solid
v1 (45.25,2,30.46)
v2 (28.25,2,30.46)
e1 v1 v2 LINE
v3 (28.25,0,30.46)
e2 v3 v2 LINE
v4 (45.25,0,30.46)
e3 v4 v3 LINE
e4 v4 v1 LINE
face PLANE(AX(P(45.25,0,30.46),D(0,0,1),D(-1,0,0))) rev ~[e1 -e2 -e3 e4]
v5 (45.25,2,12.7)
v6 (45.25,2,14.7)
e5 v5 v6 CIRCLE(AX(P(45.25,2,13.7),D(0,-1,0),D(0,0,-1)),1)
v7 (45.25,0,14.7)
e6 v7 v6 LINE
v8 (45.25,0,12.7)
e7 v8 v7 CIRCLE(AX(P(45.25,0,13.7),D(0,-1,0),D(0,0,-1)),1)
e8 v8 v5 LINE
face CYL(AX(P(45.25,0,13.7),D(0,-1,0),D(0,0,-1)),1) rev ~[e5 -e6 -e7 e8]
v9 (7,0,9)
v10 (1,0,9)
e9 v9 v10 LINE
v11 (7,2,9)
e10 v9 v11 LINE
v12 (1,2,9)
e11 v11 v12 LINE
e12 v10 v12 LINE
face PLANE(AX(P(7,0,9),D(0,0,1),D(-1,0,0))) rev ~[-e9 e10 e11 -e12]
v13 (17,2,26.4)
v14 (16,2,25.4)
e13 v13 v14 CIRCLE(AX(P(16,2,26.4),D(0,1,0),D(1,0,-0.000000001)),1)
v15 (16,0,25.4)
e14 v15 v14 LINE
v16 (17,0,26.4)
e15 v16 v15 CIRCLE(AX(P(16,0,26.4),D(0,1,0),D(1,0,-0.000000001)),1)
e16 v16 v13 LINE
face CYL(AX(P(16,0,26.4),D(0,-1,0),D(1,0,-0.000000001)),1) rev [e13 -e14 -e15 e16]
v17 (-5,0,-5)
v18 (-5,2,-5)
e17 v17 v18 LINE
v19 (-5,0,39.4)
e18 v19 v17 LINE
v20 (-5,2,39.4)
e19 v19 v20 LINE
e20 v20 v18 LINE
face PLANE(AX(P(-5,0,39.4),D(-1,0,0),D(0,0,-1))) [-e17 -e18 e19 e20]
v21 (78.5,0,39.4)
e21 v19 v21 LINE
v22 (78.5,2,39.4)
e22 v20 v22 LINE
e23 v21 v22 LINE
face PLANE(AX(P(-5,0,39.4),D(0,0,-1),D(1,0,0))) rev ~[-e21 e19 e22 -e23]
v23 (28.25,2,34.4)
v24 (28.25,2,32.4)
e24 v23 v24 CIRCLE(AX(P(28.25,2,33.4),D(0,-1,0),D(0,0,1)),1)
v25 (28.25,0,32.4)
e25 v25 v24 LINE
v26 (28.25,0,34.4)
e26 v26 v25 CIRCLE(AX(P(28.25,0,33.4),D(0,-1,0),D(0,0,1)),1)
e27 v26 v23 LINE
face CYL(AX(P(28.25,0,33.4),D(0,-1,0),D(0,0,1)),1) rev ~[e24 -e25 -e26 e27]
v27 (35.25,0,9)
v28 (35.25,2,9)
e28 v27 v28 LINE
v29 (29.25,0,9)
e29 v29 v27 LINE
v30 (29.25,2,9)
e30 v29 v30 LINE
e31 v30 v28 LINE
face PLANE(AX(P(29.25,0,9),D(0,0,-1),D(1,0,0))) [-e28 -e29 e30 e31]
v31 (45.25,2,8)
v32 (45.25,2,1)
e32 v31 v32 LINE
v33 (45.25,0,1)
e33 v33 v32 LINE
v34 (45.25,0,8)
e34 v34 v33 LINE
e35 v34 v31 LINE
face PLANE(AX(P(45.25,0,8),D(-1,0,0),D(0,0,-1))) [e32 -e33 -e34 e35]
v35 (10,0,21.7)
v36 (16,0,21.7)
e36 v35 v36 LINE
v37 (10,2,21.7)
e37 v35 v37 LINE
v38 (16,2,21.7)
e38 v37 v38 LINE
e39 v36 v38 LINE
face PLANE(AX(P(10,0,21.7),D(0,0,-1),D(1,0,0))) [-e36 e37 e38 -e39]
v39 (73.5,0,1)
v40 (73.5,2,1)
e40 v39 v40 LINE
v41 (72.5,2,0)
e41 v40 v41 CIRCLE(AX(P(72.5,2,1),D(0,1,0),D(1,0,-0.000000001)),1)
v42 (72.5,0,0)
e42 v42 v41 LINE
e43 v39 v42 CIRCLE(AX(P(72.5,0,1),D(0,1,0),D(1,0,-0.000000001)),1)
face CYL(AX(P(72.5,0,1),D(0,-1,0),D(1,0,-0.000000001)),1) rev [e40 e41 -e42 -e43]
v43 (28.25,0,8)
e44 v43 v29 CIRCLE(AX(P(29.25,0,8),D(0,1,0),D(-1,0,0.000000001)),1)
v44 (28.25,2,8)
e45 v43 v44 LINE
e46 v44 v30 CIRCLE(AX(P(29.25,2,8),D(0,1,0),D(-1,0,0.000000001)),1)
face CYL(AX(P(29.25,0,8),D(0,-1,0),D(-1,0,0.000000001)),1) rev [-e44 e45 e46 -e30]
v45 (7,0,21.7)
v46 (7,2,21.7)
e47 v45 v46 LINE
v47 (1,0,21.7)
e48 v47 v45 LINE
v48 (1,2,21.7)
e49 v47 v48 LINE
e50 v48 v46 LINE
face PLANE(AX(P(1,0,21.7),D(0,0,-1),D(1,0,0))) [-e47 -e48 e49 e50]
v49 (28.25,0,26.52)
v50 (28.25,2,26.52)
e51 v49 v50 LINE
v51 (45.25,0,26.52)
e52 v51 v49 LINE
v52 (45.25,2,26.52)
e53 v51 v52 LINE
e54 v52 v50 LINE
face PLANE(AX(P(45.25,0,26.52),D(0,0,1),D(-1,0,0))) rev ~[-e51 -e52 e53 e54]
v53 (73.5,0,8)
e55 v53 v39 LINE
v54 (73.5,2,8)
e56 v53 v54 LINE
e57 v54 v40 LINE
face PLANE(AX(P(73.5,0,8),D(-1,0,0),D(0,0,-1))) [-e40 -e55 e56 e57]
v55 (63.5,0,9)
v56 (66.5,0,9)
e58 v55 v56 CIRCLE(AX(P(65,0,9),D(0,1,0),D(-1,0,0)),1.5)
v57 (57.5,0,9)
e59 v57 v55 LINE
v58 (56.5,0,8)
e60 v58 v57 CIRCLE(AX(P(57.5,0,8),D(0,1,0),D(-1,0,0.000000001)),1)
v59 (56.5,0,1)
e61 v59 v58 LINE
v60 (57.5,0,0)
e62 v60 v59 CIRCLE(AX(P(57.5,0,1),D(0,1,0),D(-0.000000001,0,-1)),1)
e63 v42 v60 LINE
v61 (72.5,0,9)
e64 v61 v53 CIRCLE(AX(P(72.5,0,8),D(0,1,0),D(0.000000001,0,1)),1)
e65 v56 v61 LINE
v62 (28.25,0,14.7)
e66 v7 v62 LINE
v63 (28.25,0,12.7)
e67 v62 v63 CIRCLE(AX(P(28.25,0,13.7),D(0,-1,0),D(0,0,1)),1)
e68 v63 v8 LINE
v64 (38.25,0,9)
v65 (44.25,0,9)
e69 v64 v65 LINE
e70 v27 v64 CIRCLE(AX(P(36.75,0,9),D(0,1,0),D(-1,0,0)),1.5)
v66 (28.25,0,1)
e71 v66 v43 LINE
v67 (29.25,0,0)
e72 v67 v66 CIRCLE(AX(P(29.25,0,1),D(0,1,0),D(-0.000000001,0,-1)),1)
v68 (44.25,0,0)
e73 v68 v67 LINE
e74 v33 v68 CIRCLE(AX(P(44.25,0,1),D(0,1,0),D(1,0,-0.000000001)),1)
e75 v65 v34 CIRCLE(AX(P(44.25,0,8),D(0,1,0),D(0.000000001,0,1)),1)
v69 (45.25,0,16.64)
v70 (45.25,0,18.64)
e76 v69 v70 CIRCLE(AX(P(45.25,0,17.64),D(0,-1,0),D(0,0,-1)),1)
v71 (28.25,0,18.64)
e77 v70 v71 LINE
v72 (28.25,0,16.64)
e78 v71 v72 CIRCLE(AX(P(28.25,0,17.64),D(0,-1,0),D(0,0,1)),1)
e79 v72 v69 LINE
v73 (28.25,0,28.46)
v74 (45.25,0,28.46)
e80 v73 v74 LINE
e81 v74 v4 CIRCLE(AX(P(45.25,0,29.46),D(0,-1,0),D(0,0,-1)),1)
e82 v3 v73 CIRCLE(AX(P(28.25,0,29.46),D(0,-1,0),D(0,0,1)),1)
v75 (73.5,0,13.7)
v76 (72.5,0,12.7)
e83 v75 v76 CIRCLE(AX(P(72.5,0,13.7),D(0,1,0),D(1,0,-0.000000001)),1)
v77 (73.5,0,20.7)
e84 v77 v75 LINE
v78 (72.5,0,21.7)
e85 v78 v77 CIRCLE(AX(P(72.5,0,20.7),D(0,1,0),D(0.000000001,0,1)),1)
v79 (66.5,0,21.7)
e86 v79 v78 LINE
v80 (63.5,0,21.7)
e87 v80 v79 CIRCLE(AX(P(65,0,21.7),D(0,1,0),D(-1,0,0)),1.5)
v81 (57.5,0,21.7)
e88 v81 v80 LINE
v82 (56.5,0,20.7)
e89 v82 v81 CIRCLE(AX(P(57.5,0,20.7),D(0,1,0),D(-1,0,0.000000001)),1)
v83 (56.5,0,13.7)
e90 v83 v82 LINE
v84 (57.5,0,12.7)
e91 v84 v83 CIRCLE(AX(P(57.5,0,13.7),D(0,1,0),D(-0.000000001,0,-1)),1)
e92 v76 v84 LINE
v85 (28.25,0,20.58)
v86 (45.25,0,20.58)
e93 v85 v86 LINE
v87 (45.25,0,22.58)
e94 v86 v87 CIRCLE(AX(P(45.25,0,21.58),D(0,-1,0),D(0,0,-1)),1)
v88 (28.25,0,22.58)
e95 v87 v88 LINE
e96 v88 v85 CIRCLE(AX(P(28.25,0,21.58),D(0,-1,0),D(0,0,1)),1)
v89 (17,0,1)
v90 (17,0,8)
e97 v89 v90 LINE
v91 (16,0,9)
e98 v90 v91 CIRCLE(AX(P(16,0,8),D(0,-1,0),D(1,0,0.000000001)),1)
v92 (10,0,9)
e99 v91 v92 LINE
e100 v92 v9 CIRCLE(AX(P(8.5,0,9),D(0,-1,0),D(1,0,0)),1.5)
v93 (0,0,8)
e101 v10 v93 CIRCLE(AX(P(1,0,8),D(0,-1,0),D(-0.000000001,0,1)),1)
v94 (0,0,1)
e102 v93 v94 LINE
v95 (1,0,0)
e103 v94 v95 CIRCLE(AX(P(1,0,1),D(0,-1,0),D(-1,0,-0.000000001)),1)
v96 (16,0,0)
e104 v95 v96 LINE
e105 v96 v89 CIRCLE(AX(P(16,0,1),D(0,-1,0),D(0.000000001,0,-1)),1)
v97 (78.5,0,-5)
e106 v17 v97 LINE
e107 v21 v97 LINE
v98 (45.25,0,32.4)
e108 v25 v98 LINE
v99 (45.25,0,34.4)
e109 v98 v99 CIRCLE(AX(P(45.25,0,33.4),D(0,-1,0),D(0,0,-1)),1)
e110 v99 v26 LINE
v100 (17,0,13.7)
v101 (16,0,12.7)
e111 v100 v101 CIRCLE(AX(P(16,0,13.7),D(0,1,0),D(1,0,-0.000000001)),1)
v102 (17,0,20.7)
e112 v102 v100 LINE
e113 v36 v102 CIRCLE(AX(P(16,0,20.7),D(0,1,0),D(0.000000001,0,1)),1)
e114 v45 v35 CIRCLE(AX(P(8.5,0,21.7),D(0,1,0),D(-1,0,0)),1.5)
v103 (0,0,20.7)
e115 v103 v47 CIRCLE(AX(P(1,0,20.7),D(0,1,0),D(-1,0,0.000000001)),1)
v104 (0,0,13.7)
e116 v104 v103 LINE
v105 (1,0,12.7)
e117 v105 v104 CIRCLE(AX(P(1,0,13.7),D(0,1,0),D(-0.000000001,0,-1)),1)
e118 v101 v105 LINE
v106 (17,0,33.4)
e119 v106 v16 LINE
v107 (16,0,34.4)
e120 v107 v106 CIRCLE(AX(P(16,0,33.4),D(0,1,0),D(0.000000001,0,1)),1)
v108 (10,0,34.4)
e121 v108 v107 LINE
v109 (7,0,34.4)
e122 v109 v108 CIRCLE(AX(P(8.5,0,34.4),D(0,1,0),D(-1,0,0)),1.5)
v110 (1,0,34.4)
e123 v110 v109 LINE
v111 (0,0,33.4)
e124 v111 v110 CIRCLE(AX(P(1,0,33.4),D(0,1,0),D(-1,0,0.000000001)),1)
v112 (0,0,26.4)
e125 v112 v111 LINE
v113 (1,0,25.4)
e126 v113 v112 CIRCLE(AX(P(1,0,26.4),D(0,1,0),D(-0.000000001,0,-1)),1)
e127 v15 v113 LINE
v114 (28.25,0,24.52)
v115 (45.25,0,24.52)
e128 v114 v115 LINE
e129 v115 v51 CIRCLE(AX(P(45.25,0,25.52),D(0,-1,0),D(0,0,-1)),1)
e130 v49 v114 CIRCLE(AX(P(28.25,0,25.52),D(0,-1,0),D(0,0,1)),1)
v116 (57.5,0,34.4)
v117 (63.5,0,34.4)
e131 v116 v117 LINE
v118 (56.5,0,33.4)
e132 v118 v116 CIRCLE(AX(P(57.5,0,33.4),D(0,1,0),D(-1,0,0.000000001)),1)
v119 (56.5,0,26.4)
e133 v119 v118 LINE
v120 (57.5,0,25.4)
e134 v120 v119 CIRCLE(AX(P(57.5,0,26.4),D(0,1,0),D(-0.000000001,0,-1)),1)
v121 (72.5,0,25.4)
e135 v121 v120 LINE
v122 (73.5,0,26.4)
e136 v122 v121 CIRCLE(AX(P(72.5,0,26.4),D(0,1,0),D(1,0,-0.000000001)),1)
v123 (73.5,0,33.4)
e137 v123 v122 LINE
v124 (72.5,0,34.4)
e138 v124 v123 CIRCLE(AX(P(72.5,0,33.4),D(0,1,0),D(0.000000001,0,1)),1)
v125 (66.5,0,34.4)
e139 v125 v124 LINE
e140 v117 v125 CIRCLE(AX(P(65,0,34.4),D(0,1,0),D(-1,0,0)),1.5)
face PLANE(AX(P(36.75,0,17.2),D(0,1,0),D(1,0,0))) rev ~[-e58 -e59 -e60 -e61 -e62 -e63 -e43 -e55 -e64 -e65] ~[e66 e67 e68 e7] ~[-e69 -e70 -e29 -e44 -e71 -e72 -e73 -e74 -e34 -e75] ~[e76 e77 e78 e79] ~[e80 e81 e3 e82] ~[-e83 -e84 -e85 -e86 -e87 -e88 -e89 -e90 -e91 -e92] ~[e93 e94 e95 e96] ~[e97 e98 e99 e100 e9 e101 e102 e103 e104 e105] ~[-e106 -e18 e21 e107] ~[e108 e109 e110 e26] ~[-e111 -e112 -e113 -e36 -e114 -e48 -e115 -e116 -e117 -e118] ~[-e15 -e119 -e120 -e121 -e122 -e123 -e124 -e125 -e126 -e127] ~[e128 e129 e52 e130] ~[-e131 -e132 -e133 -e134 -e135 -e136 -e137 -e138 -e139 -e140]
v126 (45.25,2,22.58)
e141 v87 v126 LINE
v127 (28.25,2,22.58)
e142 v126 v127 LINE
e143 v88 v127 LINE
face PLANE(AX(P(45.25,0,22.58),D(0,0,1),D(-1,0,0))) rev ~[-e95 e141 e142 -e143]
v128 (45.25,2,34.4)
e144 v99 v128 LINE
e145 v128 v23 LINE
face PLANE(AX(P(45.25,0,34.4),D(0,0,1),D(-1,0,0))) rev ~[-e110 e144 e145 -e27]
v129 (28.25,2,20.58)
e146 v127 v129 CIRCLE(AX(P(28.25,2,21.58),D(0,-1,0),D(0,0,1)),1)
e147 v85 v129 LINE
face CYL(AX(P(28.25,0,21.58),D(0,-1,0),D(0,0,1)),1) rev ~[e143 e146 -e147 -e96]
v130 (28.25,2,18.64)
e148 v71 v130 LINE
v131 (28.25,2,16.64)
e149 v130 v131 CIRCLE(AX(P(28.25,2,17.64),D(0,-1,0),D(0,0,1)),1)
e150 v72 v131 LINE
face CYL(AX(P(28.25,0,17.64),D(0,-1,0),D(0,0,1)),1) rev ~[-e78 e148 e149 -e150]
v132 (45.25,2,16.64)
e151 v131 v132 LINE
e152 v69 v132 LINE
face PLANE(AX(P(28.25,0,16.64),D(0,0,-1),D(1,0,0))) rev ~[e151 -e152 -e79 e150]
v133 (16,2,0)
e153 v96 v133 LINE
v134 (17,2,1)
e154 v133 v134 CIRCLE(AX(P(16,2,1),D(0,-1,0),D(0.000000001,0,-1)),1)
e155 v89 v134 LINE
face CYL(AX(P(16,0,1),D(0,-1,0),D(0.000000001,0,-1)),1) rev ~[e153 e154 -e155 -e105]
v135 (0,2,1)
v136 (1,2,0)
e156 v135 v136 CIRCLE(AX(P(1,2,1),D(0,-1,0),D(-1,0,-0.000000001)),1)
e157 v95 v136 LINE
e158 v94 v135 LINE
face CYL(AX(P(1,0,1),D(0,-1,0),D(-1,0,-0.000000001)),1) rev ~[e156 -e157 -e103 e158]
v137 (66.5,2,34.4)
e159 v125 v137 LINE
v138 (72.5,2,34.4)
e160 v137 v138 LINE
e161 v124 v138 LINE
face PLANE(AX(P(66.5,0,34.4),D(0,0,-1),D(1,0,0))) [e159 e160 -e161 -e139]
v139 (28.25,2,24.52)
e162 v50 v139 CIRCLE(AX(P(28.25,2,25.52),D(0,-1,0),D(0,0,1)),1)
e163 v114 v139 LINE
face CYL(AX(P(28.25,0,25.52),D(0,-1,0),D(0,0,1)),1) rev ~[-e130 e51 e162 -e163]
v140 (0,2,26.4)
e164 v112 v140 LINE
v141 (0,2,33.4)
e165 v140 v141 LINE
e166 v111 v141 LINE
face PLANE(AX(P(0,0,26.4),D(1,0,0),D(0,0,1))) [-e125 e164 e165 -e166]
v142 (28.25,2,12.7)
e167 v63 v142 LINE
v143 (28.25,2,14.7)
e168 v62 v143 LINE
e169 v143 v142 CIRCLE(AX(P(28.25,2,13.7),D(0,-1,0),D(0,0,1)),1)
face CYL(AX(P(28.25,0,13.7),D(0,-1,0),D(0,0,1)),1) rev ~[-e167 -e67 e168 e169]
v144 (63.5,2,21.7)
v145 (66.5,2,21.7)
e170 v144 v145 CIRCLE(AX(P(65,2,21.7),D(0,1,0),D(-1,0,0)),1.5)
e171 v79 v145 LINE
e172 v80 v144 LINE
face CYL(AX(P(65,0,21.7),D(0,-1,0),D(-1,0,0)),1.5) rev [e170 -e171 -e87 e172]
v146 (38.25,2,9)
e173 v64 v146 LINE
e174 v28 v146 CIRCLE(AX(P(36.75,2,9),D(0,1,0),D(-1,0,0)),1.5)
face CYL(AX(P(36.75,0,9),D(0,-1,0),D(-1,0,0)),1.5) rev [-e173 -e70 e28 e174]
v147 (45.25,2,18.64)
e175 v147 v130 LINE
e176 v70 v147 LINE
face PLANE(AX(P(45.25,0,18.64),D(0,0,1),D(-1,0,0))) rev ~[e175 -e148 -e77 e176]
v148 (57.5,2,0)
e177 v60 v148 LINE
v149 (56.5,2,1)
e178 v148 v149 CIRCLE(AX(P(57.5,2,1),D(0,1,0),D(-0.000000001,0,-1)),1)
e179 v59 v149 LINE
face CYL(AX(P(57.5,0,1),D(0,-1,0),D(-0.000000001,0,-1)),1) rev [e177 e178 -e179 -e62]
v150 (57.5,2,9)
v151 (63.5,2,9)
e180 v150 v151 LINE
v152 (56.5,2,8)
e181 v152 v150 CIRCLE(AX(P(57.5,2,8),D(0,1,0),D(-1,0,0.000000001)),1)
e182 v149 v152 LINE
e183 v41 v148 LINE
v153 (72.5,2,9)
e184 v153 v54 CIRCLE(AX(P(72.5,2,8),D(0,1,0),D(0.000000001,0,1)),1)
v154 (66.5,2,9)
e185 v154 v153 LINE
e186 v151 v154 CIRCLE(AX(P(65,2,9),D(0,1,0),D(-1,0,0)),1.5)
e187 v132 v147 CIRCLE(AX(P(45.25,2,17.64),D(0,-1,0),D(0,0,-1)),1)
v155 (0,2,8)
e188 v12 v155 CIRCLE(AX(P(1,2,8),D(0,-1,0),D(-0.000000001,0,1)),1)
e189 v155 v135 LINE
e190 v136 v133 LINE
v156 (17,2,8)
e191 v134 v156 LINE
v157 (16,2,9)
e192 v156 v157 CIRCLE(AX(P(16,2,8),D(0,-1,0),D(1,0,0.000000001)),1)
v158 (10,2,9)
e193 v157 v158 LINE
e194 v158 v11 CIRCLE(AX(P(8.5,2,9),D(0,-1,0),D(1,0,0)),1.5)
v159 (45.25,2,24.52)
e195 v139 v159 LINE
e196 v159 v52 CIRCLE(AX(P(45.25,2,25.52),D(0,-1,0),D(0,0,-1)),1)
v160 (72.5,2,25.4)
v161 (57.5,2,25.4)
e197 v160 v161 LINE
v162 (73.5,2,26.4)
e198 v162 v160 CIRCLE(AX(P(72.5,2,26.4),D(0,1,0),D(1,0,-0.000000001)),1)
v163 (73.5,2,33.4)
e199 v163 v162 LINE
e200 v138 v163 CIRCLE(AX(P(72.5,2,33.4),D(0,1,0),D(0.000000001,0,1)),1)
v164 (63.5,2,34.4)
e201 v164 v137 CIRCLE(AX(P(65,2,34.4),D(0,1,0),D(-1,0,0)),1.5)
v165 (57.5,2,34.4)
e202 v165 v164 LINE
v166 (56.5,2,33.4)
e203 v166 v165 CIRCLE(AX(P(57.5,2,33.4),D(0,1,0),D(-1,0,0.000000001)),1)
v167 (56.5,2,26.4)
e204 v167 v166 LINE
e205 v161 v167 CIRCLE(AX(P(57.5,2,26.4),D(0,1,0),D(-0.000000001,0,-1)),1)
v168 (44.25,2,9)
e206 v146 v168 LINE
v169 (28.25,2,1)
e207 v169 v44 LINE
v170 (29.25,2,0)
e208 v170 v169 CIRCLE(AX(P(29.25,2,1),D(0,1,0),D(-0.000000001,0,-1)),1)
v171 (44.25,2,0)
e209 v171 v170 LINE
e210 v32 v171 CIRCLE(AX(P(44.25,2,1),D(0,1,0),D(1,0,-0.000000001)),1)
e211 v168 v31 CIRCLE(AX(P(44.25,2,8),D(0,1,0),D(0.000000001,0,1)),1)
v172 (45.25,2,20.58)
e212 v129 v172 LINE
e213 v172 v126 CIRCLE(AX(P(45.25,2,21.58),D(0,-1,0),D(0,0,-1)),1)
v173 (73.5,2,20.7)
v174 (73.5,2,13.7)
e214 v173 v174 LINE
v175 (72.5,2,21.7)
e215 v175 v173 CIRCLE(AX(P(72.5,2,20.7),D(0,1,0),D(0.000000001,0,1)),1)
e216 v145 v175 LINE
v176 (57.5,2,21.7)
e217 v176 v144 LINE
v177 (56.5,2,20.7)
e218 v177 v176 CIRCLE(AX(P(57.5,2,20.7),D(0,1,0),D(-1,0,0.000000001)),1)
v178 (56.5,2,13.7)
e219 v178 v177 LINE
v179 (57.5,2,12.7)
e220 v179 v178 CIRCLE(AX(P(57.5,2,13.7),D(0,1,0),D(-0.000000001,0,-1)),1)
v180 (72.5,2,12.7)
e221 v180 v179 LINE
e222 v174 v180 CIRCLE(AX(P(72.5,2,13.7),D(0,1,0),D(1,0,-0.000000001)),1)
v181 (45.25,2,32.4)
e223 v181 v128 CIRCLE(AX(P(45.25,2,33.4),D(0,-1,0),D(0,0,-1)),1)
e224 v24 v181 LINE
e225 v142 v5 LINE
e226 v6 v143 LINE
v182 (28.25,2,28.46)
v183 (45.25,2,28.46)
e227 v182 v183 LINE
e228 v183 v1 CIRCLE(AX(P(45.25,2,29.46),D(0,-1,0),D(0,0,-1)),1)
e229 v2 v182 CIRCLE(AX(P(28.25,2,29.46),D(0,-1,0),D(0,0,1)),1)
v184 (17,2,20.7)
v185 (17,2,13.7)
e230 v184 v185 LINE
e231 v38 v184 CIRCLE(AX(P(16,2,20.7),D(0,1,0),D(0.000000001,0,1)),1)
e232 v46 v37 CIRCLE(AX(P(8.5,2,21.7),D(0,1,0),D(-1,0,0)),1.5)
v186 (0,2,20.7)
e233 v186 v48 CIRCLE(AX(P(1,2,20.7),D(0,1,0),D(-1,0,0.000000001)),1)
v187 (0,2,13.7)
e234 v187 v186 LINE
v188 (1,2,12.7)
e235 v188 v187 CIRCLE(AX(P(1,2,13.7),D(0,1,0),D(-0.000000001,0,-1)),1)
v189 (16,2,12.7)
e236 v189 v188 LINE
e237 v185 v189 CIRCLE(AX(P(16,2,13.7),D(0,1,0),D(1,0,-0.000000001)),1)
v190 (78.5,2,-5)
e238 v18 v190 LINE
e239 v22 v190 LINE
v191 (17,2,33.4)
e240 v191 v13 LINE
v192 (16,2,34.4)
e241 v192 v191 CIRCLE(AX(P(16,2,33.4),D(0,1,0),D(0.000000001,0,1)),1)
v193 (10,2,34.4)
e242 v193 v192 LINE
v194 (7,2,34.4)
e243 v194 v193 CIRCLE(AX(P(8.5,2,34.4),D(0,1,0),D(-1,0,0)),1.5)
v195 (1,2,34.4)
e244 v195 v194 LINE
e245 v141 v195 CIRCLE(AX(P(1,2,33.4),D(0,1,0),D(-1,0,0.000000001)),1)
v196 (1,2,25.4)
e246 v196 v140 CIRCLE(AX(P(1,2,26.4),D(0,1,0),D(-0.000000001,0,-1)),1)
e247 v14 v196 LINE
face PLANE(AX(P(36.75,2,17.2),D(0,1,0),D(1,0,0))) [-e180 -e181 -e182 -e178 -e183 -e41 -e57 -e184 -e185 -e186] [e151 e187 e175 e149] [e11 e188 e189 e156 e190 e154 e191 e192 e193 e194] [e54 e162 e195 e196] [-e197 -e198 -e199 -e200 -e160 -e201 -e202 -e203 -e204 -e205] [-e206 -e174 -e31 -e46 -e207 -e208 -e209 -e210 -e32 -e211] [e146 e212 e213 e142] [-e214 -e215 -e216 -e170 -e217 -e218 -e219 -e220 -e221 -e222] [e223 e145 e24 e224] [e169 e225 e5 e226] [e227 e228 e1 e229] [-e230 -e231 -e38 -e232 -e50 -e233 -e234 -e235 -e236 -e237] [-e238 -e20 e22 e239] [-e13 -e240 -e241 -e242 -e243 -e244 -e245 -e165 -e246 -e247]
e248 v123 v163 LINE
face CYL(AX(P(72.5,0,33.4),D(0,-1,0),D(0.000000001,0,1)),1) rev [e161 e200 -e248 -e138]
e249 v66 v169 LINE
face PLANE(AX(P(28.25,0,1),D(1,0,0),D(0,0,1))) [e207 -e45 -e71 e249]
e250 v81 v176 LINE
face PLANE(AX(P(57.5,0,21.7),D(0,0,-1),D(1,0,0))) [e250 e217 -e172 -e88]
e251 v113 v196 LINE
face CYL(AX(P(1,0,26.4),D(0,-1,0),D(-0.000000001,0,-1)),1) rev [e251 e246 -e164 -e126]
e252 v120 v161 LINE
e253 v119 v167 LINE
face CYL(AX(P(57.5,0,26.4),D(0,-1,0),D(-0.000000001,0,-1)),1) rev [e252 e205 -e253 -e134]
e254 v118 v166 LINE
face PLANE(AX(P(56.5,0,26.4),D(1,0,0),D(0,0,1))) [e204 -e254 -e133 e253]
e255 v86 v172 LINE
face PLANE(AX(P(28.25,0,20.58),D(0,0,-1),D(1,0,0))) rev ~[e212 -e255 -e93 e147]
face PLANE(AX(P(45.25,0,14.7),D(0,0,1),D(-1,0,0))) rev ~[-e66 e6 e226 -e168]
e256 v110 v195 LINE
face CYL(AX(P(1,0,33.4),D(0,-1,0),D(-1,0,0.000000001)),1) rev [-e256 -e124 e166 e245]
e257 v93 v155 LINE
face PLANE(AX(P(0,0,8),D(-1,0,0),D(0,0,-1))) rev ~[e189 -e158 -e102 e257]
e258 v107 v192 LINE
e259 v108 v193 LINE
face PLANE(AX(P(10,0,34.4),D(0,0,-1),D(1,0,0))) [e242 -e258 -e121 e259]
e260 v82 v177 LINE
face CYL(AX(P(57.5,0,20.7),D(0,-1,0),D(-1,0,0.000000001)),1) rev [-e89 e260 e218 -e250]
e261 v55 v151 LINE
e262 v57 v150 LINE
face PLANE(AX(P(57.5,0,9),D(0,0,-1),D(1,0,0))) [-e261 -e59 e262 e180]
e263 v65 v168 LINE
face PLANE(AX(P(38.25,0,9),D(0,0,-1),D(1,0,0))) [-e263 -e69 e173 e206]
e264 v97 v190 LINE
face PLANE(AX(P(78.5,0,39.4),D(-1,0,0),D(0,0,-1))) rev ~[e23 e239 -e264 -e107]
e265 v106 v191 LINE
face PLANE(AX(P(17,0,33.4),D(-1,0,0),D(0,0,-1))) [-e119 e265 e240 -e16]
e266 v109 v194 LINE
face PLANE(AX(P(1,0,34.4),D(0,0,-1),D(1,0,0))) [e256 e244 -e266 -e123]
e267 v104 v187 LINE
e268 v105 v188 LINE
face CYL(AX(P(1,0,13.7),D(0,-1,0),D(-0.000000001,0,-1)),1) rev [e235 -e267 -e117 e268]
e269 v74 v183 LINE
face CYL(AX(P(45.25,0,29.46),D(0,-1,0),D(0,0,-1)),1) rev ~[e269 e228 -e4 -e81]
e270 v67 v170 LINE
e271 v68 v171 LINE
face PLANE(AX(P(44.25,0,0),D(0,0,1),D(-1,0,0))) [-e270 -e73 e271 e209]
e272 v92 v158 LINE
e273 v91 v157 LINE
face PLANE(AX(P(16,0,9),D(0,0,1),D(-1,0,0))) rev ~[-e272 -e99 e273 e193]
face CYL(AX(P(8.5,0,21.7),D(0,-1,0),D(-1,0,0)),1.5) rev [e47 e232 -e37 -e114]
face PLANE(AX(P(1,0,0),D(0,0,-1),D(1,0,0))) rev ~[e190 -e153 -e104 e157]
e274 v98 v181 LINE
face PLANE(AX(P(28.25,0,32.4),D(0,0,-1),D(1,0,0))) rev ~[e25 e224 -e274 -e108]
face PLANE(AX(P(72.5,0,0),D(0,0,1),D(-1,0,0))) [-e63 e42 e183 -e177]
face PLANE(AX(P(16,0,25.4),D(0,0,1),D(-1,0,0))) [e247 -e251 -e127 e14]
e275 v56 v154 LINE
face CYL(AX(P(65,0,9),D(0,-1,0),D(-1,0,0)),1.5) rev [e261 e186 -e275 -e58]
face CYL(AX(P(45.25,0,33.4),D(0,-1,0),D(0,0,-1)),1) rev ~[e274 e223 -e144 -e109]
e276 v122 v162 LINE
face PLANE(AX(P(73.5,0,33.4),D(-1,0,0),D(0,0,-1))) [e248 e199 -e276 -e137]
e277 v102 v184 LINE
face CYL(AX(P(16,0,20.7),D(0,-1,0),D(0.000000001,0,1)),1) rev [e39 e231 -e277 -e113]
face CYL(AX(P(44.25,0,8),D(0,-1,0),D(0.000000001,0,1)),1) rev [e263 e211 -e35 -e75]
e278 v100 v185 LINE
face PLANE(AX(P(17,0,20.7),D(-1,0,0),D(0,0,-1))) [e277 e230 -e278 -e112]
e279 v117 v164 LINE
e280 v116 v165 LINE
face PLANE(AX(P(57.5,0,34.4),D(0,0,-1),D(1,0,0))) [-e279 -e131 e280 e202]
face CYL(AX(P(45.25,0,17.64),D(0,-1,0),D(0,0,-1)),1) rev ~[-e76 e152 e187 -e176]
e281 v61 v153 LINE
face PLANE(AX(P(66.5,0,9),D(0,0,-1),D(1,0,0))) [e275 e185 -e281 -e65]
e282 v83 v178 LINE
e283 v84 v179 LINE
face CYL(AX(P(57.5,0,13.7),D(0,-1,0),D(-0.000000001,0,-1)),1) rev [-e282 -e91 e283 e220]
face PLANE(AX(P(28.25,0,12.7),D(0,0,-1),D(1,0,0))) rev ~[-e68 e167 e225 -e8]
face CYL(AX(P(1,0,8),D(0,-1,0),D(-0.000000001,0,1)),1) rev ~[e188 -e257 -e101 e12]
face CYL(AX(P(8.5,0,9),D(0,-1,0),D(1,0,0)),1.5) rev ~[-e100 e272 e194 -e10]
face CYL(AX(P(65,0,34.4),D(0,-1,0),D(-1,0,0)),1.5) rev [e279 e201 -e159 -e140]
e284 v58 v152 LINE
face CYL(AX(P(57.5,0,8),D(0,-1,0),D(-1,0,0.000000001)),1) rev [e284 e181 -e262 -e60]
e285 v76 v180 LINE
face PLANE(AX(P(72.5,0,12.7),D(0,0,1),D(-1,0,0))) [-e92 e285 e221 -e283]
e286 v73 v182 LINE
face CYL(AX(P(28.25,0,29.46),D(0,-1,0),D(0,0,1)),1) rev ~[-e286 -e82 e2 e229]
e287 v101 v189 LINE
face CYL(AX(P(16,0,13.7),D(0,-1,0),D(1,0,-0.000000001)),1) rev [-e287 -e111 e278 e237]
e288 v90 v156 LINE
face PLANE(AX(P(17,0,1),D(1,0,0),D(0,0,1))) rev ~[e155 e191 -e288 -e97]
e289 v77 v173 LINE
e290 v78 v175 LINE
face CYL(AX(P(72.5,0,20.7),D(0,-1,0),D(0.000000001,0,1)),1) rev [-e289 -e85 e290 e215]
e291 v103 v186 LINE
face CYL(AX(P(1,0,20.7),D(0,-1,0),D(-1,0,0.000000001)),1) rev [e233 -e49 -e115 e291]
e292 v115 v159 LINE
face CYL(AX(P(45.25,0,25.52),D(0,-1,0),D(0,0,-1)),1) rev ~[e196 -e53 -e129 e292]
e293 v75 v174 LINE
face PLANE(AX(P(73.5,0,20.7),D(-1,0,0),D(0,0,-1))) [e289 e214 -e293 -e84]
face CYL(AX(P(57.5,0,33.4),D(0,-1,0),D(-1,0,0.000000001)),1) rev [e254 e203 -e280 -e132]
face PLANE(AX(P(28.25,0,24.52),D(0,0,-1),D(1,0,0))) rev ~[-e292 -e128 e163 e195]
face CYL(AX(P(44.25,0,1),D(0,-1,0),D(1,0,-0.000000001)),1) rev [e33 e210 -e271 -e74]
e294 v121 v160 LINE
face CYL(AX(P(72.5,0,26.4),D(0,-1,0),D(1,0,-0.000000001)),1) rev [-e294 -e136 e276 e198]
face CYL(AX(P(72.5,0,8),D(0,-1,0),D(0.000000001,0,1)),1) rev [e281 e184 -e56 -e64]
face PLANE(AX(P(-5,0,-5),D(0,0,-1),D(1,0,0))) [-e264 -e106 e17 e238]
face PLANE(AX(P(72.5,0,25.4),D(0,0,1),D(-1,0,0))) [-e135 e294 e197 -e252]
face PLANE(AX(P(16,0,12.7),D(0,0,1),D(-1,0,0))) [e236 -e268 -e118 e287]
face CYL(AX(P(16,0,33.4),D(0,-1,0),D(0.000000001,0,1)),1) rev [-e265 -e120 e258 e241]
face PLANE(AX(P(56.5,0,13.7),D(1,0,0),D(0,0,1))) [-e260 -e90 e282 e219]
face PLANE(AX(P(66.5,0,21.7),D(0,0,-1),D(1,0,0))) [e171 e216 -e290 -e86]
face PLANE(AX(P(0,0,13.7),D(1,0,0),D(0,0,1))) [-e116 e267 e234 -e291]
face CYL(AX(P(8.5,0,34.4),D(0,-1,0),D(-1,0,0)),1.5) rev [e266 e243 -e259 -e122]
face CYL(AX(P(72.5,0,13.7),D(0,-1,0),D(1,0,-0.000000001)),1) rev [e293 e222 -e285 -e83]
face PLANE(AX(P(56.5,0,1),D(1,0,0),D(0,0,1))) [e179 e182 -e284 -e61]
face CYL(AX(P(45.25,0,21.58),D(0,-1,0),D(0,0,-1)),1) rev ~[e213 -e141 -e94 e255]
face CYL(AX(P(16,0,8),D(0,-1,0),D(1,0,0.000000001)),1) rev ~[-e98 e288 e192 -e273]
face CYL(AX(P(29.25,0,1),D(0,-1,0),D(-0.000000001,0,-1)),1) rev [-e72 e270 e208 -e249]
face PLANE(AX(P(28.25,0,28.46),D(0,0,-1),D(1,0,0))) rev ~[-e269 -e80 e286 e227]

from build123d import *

# Parameters (mm, degrees)
SKETCH1_W           = 83.5
SKETCH1_H           = 44.4
BOSS_EXTRUDE1_DEPTH = 2


with BuildPart() as part:
    # Sketch1 → Boss-Extrude1 (new body)
    with BuildSketch(Plane(origin=(0, 0, 0), x_dir=(1, 0, 0), z_dir=(0, 1, 0))):
        with Locations((36.75, -17.2)):
            Rectangle(SKETCH1_W, SKETCH1_H)
        with BuildLine():
            Line((29.25, -9), (35.25, -9))
            ThreePointArc((35.25, -9), (36.75, -10.5), (38.25, -9))
            Line((38.25, -9), (44.25, -9))
            ThreePointArc((44.25, -9), (44.957106781, -8.707106781), (45.25, -8))
            Line((45.25, -8), (45.25, -1))
            ThreePointArc((45.25, -1), (44.957106781, -0.292893219), (44.25, 0))
            Line((44.25, 0), (29.25, 0))
            ThreePointArc((29.25, 0), (28.542893219, -0.292893219), (28.25, -1))
            Line((28.25, -1), (28.25, -8))
            ThreePointArc((28.25, -8), (28.542893219, -8.707106781), (29.25, -9))
        make_face(mode=Mode.SUBTRACT)
        with BuildLine():
            Line((1, 0), (16, 0))
            ThreePointArc((16, 0), (16.707106781, -0.292893219), (17, -1))
            Line((17, -1), (17, -8))
            ThreePointArc((17, -8), (16.707106781, -8.707106781), (16, -9))
            Line((16, -9), (10, -9))
            ThreePointArc((10, -9), (8.5, -10.5), (7, -9))
            Line((7, -9), (1, -9))
            ThreePointArc((1, -9), (0.292893219, -8.707106781), (0, -8))
            Line((0, -8), (0, -1))
            ThreePointArc((0, -1), (0.292893219, -0.292893219), (1, 0))
        make_face(mode=Mode.SUBTRACT)
        with BuildLine():
            Line((57.5, -9), (63.5, -9))
            ThreePointArc((63.5, -9), (65, -10.5), (66.5, -9))
            Line((66.5, -9), (72.5, -9))
            ThreePointArc((72.5, -9), (73.207106781, -8.707106781), (73.5, -8))
            Line((73.5, -8), (73.5, -1))
            ThreePointArc((73.5, -1), (73.207106781, -0.292893219), (72.5, 0))
            Line((72.5, 0), (57.5, 0))
            ThreePointArc((57.5, 0), (56.792893219, -0.292893219), (56.5, -1))
            Line((56.5, -1), (56.5, -8))
            ThreePointArc((56.5, -8), (56.792893219, -8.707106781), (57.5, -9))
        make_face(mode=Mode.SUBTRACT)
        with BuildLine():
            Line((57.5, -21.7), (63.5, -21.7))
            ThreePointArc((63.5, -21.7), (65, -23.2), (66.5, -21.7))
            Line((66.5, -21.7), (72.5, -21.7))
            ThreePointArc((72.5, -21.7), (73.207106781, -21.407106781), (73.5, -20.7))
            Line((73.5, -20.7), (73.5, -13.7))
            ThreePointArc((73.5, -13.7), (73.207106781, -12.992893219), (72.5, -12.7))
            Line((72.5, -12.7), (57.5, -12.7))
            ThreePointArc((57.5, -12.7), (56.792893219, -12.992893219), (56.5, -13.7))
            Line((56.5, -13.7), (56.5, -20.7))
            ThreePointArc((56.5, -20.7), (56.792893219, -21.407106781), (57.5, -21.7))
        make_face(mode=Mode.SUBTRACT)
        with BuildLine():
            Line((57.5, -34.4), (63.5, -34.4))
            ThreePointArc((63.5, -34.4), (65, -35.9), (66.5, -34.4))
            Line((66.5, -34.4), (72.5, -34.4))
            ThreePointArc((72.5, -34.4), (73.207106781, -34.107106781), (73.5, -33.4))
            Line((73.5, -33.4), (73.5, -26.4))
            ThreePointArc((73.5, -26.4), (73.207106781, -25.692893219), (72.5, -25.4))
            Line((72.5, -25.4), (57.5, -25.4))
            ThreePointArc((57.5, -25.4), (56.792893219, -25.692893219), (56.5, -26.4))
            Line((56.5, -26.4), (56.5, -33.4))
            ThreePointArc((56.5, -33.4), (56.792893219, -34.107106781), (57.5, -34.4))
        make_face(mode=Mode.SUBTRACT)
        with BuildLine():
            Line((1, -21.7), (7, -21.7))
            ThreePointArc((7, -21.7), (8.5, -23.2), (10, -21.7))
            Line((10, -21.7), (16, -21.7))
            ThreePointArc((16, -21.7), (16.707106781, -21.407106781), (17, -20.7))
            Line((17, -20.7), (17, -13.7))
            ThreePointArc((17, -13.7), (16.707106781, -12.992893219), (16, -12.7))
            Line((16, -12.7), (1, -12.7))
            ThreePointArc((1, -12.7), (0.292893219, -12.992893219), (0, -13.7))
            Line((0, -13.7), (0, -20.7))
            ThreePointArc((0, -20.7), (0.292893219, -21.407106781), (1, -21.7))
        make_face(mode=Mode.SUBTRACT)
        with BuildLine():
            Line((1, -34.4), (7, -34.4))
            ThreePointArc((7, -34.4), (8.5, -35.9), (10, -34.4))
            Line((10, -34.4), (16, -34.4))
            ThreePointArc((16, -34.4), (16.707106781, -34.107106781), (17, -33.4))
            Line((17, -33.4), (17, -26.4))
            ThreePointArc((17, -26.4), (16.707106781, -25.692893219), (16, -25.4))
            Line((16, -25.4), (1, -25.4))
            ThreePointArc((1, -25.4), (0.292893219, -25.692893219), (0, -26.4))
            Line((0, -26.4), (0, -33.4))
            ThreePointArc((0, -33.4), (0.292893219, -34.107106781), (1, -34.4))
        make_face(mode=Mode.SUBTRACT)
        with BuildLine():
            Line((28.25, -16.64), (45.25, -16.64))
            ThreePointArc((45.25, -16.64), (46.25, -17.64), (45.25, -18.64))
            Line((45.25, -18.64), (28.25, -18.64))
            ThreePointArc((28.25, -18.64), (27.25, -17.64), (28.25, -16.64))
        make_face(mode=Mode.SUBTRACT)
        with BuildLine():
            Line((28.25, -12.7), (45.25, -12.7))
            ThreePointArc((45.25, -12.7), (46.25, -13.7), (45.25, -14.7))
            Line((45.25, -14.7), (28.25, -14.7))
            ThreePointArc((28.25, -14.7), (27.25, -13.7), (28.25, -12.7))
        make_face(mode=Mode.SUBTRACT)
        with BuildLine():
            Line((28.25, -20.58), (45.25, -20.58))
            ThreePointArc((45.25, -20.58), (46.25, -21.58), (45.25, -22.58))
            Line((45.25, -22.58), (28.25, -22.58))
            ThreePointArc((28.25, -22.58), (27.25, -21.58), (28.25, -20.58))
        make_face(mode=Mode.SUBTRACT)
        with BuildLine():
            Line((28.25, -24.52), (45.25, -24.52))
            ThreePointArc((45.25, -24.52), (46.25, -25.52), (45.25, -26.52))
            Line((45.25, -26.52), (28.25, -26.52))
            ThreePointArc((28.25, -26.52), (27.25, -25.52), (28.25, -24.52))
        make_face(mode=Mode.SUBTRACT)
        with BuildLine():
            Line((28.25, -28.46), (45.25, -28.46))
            ThreePointArc((45.25, -28.46), (46.25, -29.46), (45.25, -30.46))
            Line((45.25, -30.46), (28.25, -30.46))
            ThreePointArc((28.25, -30.46), (27.25, -29.46), (28.25, -28.46))
        make_face(mode=Mode.SUBTRACT)
        with BuildLine():
            Line((28.25, -32.4), (45.25, -32.4))
            ThreePointArc((45.25, -32.4), (46.25, -33.4), (45.25, -34.4))
            Line((45.25, -34.4), (28.25, -34.4))
            ThreePointArc((28.25, -34.4), (27.25, -33.4), (28.25, -32.4))
        make_face(mode=Mode.SUBTRACT)
    extrude(amount=BOSS_EXTRUDE1_DEPTH)


solid = part.part
